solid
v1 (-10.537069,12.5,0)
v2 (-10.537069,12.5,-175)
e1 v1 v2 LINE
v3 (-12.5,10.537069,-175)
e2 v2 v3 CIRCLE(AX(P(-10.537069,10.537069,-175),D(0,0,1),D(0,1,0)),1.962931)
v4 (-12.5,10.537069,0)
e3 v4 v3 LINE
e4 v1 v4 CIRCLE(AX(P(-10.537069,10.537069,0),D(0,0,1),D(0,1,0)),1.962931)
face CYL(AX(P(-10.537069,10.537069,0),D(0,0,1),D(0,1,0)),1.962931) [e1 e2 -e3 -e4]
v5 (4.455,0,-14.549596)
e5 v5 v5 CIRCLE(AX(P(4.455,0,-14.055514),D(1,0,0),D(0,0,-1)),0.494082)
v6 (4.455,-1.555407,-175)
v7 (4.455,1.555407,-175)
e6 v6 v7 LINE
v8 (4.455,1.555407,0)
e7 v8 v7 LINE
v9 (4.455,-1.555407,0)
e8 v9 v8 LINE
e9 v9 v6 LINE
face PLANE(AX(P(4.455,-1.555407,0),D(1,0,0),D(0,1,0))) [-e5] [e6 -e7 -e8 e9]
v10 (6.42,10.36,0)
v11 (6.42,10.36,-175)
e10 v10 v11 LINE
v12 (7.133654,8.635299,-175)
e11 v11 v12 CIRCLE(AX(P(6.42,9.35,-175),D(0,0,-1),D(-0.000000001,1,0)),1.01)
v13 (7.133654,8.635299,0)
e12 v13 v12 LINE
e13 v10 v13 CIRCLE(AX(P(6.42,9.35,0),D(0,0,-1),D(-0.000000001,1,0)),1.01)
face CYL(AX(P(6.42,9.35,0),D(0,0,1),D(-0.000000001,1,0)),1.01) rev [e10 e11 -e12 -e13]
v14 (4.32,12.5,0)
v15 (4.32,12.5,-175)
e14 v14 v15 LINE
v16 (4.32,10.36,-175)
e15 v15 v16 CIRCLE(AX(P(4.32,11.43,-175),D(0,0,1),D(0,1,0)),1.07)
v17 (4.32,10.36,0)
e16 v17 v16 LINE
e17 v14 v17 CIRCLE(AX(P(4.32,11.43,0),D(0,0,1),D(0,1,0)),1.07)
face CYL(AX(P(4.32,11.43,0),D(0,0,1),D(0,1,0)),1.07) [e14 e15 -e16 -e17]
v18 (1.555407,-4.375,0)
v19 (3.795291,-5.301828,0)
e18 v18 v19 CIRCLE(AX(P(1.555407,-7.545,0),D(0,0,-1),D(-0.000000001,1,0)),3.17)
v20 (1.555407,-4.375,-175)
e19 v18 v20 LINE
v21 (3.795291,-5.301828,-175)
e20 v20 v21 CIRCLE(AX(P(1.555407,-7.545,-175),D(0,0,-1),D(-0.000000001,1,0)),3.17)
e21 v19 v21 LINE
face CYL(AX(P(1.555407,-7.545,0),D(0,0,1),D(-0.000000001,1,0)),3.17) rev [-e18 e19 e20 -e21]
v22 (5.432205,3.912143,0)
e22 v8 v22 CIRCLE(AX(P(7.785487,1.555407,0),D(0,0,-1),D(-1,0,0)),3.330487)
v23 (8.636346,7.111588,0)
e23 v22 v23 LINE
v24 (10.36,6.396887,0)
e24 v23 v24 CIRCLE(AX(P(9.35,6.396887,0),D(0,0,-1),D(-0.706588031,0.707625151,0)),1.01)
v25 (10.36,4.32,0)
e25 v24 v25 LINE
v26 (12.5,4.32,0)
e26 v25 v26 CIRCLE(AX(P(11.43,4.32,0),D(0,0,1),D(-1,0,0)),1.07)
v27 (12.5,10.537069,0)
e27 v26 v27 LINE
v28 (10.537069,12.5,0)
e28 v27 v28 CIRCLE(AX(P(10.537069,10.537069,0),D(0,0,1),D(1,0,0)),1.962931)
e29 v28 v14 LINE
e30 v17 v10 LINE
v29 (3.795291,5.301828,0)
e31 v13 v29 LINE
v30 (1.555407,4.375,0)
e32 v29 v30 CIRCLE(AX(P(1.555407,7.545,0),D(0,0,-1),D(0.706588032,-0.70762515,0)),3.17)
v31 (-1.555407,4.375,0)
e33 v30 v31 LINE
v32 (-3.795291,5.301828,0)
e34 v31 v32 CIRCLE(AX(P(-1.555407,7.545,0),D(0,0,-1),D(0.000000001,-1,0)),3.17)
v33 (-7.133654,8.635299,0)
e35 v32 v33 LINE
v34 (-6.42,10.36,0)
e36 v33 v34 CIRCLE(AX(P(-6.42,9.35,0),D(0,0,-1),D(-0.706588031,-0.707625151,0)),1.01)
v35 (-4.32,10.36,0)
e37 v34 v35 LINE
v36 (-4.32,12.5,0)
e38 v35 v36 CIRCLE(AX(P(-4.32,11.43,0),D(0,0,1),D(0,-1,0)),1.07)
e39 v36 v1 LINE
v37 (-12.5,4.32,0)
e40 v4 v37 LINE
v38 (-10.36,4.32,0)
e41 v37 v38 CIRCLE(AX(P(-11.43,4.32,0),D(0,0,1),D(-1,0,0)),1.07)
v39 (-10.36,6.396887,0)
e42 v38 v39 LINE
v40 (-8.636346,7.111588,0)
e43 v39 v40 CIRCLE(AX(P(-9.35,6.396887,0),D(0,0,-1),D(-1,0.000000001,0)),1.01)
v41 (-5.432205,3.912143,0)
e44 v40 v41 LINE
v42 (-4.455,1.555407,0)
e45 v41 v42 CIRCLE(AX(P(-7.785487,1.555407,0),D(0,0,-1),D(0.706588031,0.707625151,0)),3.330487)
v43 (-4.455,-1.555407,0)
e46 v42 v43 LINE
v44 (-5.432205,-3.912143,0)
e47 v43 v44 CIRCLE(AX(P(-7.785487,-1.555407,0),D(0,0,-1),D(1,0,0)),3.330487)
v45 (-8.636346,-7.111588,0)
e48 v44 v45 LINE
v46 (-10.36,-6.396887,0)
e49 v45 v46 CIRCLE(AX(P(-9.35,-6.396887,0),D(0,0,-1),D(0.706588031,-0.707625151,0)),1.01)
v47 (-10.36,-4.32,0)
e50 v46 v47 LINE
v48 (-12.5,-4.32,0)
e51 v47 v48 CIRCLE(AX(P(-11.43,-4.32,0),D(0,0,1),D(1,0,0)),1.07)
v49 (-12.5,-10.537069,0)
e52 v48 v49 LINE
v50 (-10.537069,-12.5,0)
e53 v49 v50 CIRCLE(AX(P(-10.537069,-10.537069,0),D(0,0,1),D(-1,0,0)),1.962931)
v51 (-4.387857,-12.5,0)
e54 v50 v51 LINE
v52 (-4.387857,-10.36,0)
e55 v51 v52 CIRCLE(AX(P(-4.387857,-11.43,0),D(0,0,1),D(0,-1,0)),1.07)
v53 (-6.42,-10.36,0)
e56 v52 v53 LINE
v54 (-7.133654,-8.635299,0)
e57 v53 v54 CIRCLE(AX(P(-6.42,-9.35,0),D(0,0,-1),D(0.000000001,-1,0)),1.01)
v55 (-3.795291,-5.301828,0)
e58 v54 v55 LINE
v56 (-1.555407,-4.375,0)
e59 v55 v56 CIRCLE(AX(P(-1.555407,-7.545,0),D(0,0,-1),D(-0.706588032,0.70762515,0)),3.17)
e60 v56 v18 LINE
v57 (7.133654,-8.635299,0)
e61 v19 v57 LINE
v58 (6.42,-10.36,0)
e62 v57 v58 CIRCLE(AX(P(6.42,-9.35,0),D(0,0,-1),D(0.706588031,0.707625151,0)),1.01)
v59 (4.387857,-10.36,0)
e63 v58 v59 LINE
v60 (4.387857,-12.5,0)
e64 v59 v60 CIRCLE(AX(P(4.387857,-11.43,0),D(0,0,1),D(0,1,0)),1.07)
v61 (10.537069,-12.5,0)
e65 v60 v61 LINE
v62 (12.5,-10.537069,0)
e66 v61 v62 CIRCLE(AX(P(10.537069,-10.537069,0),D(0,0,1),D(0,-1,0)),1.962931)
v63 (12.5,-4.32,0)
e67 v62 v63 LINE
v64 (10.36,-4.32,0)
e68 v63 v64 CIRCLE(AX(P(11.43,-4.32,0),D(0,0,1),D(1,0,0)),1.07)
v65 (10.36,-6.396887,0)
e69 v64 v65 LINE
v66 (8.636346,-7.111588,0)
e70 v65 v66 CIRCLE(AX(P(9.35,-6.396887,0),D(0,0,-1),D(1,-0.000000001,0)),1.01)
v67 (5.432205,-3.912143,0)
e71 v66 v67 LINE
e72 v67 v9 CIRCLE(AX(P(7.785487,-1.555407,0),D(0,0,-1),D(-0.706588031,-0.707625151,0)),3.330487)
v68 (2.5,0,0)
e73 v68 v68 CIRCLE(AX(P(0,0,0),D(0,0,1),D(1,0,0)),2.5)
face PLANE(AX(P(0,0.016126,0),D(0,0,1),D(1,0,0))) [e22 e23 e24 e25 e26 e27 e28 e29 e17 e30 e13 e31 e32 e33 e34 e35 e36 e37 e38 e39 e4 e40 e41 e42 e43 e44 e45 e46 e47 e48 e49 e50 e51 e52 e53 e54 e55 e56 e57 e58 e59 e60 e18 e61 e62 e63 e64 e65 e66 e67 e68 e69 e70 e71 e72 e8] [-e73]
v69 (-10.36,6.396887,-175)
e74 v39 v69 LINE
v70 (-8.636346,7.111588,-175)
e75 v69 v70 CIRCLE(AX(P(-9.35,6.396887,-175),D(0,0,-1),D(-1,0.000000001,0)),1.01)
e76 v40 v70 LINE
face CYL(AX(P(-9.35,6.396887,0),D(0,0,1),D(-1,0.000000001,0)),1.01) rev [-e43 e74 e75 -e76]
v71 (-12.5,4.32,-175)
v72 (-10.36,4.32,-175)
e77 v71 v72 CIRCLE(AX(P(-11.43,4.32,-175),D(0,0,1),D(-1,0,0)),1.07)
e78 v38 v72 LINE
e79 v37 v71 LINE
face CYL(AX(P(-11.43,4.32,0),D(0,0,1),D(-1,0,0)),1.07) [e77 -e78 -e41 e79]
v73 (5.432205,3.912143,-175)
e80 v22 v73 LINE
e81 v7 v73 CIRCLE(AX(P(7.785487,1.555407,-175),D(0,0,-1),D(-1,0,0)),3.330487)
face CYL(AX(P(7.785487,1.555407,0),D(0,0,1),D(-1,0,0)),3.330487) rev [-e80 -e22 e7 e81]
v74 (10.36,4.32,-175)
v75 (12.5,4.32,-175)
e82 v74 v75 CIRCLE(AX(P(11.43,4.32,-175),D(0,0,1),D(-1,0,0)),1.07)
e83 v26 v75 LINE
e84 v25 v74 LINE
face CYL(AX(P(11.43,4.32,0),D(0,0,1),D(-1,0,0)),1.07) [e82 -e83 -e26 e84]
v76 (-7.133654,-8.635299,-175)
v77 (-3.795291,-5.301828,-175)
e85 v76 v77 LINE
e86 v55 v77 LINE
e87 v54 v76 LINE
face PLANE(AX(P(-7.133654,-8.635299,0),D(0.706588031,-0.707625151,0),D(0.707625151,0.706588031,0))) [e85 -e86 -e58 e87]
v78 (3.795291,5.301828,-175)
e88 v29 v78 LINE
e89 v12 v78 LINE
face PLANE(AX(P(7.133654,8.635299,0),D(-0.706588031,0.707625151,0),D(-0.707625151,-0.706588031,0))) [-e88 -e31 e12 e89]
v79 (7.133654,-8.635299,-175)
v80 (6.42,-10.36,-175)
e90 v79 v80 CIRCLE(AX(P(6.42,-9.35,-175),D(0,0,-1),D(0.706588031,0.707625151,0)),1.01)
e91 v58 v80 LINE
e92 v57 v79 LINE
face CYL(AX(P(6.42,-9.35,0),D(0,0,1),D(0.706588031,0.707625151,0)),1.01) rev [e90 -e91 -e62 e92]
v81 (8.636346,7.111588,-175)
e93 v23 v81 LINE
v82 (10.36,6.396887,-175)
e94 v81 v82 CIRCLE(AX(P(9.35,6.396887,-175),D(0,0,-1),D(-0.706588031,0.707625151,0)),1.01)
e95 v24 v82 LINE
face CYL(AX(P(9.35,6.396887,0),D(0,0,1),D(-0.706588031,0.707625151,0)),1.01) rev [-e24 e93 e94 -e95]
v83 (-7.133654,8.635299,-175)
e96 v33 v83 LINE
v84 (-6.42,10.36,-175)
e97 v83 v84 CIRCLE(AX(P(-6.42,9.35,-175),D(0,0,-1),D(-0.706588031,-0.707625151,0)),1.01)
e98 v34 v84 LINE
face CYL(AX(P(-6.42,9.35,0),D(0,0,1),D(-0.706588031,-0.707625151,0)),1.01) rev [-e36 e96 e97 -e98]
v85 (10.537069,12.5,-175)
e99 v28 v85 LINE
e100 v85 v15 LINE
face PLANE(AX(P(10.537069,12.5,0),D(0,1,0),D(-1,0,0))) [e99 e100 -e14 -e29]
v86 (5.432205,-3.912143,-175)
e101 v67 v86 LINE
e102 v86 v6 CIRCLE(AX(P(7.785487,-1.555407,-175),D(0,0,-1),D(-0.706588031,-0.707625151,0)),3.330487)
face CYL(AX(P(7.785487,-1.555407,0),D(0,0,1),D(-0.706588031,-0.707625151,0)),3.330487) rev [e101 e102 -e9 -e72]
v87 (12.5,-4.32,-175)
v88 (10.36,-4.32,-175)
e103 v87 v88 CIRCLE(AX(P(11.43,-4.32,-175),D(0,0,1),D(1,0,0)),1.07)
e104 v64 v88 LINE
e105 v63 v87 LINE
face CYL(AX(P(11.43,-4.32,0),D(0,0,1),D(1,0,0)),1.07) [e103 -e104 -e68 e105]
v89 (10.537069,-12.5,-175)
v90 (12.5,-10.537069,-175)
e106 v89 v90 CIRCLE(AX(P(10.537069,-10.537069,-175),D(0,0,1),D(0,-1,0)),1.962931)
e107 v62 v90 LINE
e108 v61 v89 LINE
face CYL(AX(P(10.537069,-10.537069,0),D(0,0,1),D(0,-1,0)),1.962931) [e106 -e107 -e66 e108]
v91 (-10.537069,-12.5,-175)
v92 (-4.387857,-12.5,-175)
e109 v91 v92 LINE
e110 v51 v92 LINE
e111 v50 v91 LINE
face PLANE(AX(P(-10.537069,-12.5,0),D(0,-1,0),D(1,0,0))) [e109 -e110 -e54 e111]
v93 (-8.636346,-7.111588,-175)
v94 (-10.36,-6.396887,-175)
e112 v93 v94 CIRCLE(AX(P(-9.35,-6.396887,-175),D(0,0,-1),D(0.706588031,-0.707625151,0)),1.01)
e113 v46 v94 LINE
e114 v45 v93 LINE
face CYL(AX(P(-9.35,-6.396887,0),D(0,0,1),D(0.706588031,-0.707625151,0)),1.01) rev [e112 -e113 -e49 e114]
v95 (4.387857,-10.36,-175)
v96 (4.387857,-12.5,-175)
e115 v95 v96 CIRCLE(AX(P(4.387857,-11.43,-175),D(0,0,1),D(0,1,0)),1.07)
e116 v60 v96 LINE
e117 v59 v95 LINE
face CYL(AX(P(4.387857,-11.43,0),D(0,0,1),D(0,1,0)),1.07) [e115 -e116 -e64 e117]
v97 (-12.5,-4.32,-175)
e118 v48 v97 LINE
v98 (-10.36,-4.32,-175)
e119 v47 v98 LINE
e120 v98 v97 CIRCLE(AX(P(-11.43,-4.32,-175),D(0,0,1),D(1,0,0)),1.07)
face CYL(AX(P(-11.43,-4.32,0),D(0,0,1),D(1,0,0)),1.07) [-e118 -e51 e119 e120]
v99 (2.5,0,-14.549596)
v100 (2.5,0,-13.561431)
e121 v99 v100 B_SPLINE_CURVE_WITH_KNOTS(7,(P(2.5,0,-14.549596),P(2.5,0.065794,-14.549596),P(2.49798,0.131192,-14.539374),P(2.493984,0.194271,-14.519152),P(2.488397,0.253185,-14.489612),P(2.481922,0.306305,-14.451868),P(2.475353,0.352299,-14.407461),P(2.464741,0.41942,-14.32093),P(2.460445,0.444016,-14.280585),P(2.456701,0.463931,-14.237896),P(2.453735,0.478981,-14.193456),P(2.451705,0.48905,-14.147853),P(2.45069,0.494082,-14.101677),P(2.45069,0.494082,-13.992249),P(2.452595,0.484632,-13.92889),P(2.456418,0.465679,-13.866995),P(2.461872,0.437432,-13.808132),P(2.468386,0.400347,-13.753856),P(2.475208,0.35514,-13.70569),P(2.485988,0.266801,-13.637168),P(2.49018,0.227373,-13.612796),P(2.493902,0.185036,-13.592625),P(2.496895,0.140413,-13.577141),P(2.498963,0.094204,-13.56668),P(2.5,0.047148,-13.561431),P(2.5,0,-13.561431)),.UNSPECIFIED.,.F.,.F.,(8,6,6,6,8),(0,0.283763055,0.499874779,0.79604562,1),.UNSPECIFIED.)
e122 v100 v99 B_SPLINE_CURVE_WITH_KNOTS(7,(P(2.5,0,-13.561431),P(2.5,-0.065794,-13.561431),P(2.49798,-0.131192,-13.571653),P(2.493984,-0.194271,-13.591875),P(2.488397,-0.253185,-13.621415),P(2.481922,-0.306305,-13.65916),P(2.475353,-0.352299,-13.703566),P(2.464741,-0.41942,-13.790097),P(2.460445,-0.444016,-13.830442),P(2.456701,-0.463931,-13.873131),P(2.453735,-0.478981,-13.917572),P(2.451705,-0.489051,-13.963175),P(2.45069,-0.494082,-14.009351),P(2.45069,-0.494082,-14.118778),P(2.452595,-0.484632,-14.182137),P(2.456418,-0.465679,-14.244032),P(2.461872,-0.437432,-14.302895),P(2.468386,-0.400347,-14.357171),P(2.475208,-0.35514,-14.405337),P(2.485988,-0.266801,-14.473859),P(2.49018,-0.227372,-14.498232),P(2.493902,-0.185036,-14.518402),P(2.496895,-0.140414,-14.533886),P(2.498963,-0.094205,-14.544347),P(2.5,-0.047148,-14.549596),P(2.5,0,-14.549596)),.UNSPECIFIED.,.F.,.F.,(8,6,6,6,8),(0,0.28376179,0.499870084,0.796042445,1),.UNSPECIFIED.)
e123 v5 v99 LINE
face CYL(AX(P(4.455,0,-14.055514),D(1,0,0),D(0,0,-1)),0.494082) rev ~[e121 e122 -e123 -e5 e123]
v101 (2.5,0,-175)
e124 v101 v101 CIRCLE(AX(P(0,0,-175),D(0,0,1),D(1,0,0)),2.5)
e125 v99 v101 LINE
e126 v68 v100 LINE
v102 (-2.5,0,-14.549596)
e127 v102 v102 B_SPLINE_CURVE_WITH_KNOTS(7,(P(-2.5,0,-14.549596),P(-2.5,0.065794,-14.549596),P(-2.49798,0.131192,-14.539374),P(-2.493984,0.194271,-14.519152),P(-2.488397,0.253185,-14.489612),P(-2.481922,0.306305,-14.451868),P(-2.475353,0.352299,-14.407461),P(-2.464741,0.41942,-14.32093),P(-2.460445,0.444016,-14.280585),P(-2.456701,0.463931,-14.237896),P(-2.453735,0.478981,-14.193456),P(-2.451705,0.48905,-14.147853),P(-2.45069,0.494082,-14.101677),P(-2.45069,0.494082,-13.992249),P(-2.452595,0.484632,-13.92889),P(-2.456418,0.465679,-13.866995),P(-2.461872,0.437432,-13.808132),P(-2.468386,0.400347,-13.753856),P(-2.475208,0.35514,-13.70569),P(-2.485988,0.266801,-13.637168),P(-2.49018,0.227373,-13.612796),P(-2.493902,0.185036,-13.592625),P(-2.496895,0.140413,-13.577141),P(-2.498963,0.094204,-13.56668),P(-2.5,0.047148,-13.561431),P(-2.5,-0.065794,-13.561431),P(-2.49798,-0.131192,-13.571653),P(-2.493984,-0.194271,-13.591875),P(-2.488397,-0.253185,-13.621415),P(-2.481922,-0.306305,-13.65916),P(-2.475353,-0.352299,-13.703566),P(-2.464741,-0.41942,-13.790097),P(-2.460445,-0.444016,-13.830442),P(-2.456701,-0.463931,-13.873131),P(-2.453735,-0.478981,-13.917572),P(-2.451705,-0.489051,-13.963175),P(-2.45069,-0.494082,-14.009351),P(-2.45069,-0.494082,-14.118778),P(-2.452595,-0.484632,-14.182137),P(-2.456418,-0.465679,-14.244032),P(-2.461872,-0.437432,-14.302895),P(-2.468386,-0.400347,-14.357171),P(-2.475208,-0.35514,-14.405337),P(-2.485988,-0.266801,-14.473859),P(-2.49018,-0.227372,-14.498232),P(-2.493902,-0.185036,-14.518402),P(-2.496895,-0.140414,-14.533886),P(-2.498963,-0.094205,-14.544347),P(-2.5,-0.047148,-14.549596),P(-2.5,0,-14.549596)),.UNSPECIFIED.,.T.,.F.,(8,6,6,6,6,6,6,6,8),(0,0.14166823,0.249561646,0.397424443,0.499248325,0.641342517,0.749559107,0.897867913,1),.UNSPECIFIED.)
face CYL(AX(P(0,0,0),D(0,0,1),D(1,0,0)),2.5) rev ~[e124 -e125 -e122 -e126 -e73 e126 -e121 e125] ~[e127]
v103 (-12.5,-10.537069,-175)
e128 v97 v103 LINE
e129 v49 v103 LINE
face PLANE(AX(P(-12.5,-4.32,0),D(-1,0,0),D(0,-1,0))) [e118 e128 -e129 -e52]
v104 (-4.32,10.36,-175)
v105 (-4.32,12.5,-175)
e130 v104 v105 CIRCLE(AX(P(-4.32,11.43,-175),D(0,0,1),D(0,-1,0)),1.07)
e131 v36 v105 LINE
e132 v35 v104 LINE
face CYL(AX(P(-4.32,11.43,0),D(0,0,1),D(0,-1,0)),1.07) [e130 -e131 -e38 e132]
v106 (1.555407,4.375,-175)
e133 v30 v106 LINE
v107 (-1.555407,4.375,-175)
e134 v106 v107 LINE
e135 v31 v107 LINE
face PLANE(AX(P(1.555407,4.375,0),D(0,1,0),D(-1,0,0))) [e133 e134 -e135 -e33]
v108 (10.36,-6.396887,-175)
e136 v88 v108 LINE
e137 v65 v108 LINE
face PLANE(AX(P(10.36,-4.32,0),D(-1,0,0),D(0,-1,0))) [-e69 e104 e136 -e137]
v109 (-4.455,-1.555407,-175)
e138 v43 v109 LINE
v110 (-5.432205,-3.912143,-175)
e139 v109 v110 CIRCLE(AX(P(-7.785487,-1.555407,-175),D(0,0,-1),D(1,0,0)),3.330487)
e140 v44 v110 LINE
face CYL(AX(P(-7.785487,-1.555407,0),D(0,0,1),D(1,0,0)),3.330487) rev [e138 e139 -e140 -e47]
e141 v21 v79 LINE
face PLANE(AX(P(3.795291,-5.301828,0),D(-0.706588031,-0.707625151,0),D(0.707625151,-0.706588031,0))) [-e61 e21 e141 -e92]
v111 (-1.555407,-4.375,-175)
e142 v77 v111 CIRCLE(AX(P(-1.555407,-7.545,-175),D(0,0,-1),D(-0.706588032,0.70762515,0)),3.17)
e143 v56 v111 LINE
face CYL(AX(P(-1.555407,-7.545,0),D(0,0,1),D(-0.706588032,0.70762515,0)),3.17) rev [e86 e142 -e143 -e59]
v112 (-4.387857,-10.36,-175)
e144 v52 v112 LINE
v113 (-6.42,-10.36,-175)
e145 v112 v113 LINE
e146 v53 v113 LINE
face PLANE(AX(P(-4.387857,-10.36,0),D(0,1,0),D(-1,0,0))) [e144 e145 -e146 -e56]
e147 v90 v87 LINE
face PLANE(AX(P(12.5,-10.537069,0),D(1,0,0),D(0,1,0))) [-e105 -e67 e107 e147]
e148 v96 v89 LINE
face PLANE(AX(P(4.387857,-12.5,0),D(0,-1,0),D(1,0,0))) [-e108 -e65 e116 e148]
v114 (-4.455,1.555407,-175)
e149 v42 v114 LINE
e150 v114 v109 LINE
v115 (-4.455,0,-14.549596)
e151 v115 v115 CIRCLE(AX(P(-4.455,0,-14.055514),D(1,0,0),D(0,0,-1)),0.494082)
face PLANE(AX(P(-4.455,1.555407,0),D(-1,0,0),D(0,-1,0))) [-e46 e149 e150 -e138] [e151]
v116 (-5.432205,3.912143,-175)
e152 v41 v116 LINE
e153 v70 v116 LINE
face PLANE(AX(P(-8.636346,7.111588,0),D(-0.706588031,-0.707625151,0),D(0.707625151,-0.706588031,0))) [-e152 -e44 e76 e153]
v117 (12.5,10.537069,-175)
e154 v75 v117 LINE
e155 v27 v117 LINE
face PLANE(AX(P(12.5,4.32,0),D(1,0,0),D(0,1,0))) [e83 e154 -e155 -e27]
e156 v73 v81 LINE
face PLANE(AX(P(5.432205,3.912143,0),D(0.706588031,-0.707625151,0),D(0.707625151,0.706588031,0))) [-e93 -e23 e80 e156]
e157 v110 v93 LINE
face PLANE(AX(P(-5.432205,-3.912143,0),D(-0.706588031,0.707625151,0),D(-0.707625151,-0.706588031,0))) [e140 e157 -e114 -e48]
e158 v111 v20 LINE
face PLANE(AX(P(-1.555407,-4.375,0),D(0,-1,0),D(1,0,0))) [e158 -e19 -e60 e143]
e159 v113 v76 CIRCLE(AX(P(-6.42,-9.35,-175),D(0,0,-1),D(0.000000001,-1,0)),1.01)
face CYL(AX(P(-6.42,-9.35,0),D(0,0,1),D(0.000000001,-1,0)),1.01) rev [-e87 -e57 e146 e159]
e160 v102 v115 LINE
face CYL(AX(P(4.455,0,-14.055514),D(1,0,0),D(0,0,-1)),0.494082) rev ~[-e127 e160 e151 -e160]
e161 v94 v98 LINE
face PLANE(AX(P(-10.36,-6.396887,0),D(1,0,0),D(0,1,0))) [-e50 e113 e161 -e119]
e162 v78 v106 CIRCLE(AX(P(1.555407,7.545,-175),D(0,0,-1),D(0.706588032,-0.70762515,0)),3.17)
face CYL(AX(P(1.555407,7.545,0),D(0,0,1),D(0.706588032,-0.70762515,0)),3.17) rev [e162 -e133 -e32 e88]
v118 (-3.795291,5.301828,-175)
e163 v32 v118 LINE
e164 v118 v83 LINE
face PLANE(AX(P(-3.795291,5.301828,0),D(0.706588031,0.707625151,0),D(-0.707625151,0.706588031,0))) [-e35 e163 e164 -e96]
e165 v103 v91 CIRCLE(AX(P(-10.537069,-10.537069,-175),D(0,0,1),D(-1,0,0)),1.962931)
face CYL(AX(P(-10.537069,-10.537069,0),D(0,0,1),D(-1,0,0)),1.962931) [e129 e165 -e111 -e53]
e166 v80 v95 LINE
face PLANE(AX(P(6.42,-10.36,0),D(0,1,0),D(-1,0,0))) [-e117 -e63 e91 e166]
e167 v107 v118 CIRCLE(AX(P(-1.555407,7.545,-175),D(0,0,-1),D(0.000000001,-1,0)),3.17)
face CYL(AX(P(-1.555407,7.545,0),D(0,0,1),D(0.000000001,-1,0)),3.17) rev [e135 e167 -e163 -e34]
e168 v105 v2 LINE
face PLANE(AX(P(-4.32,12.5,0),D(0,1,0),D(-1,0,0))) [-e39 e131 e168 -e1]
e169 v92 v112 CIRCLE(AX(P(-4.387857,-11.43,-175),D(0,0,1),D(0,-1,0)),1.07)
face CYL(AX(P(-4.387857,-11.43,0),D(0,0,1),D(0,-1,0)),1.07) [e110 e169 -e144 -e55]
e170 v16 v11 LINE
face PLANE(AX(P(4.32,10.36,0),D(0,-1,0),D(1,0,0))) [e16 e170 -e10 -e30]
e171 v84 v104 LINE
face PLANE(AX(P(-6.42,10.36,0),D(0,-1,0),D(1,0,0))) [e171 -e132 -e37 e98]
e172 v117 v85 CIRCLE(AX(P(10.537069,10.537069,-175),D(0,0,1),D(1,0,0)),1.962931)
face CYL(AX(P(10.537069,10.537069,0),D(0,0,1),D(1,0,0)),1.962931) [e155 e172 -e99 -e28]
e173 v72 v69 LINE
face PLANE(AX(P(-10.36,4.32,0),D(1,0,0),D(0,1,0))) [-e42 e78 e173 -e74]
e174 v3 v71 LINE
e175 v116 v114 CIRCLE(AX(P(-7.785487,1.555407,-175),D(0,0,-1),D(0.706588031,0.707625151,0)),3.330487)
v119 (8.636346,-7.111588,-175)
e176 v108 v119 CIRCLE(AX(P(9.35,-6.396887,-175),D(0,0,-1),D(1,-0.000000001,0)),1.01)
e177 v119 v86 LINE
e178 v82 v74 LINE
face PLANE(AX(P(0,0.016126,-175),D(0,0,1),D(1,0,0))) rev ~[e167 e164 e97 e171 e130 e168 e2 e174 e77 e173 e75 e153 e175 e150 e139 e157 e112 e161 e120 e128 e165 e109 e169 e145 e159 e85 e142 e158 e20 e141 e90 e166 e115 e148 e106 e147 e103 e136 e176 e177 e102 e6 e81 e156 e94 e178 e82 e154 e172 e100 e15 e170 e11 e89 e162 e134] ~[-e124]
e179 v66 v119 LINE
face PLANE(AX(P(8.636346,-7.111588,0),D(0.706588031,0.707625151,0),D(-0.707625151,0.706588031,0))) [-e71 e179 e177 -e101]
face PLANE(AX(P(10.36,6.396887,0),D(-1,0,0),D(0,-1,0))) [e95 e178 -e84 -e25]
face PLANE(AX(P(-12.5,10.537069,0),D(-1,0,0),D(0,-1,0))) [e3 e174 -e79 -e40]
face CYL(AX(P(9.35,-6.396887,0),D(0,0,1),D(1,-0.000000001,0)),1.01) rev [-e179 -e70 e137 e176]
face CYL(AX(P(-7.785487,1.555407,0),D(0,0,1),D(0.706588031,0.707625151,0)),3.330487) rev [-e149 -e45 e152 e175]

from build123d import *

# Parameters (mm, degrees)
SKETCH1_R          = 2.5
EXTRUDE1_DEPTH     = 175
SKETCH2_R          = 0.494082288
CUT_EXTRUDE1_DEPTH = 177.263218015


with BuildPart() as part:
    # Sketch1 → Extrude1 (new body)
    with BuildSketch(Plane.XY):
        with BuildLine():
            Line((-8.636346088, 7.111588351), (-5.432204773, 3.912143135))
            ThreePointArc((-5.432204773, 3.912143135), (-4.708985779, 2.831057106), (-4.455, 1.555406707))
            Line((-4.455, 1.555406707), (-4.455, -1.555406707))
            ThreePointArc((-4.455, -1.555406707), (-4.708985779, -2.831057106), (-5.432204773, -3.912143135))
            Line((-5.432204773, -3.912143135), (-8.636346088, -7.111588351))
            ThreePointArc((-8.636346088, -7.111588351), (-9.736852394, -7.329863489), (-10.36, -6.396886949))
            Line((-10.36, -6.396886949), (-10.36, -4.32))
            ThreePointArc((-10.36, -4.32), (-11.43, -3.25), (-12.5, -4.32))
            Line((-12.5, -4.32), (-12.5, -8.651801989))
            Line((-12.5, -8.651801989), (-12.5, -10.537068835))
            ThreePointArc((-12.5, -10.537068835), (-11.925070773, -11.925070773), (-10.537068835, -12.5))
            Line((-10.537068835, -12.5), (-8.441567612, -12.5))
            Line((-8.441567612, -12.5), (-4.387856959, -12.5))
            ThreePointArc((-4.387856959, -12.5), (-3.317856959, -11.43), (-4.387856959, -10.36))
            Line((-4.387856959, -10.36), (-6.42, -10.36))
            ThreePointArc((-6.42, -10.36), (-7.35325999, -9.736168088), (-7.133653912, -8.635298598))
            Line((-7.133653912, -8.635298598), (-3.795290766, -5.301828272))
            ThreePointArc((-3.795290766, -5.301828272), (-2.76743922, -4.61585726), (-1.555406707, -4.375))
            Line((-1.555406707, -4.375), (1.555406707, -4.375))
            ThreePointArc((1.555406707, -4.375), (2.76743922, -4.61585726), (3.795290766, -5.301828272))
            Line((3.795290766, -5.301828272), (7.133653912, -8.635298598))
            ThreePointArc((7.133653912, -8.635298598), (7.35325999, -9.736168088), (6.42, -10.36))
            Line((6.42, -10.36), (4.387856959, -10.36))
            ThreePointArc((4.387856959, -10.36), (3.317856959, -11.43), (4.387856959, -12.5))
            Line((4.387856959, -12.5), (8.441567612, -12.5))
            Line((8.441567612, -12.5), (10.537068835, -12.5))
            ThreePointArc((10.537068835, -12.5), (11.925070773, -11.925070773), (12.5, -10.537068835))
            Line((12.5, -10.537068835), (12.5, -8.651801989))
            Line((12.5, -8.651801989), (12.5, -4.32))
            ThreePointArc((12.5, -4.32), (11.43, -3.25), (10.36, -4.32))
            Line((10.36, -4.32), (10.36, -6.396886949))
            ThreePointArc((10.36, -6.396886949), (9.736852394, -7.329863489), (8.636346088, -7.111588351))
            Line((8.636346088, -7.111588351), (5.432204773, -3.912143135))
            ThreePointArc((5.432204773, -3.912143135), (4.708985779, -2.831057106), (4.455, -1.555406707))
            Line((4.455, -1.555406707), (4.455, 1.555406707))
            ThreePointArc((4.455, 1.555406707), (4.708985779, 2.831057106), (5.432204773, 3.912143135))
            Line((5.432204773, 3.912143135), (8.636346088, 7.111588351))
            ThreePointArc((8.636346088, 7.111588351), (9.736852394, 7.329863489), (10.36, 6.396886949))
            Line((10.36, 6.396886949), (10.36, 4.32))
            ThreePointArc((10.36, 4.32), (11.43, 3.25), (12.5, 4.32))
            Line((12.5, 4.32), (12.5, 7.99129648))
            Line((12.5, 7.99129648), (12.5, 10.537068835))
            ThreePointArc((12.5, 10.537068835), (11.925070773, 11.925070773), (10.537068835, 12.5))
            Line((10.537068835, 12.5), (4.32, 12.5))
            ThreePointArc((4.32, 12.5), (3.25, 11.43), (4.32, 10.36))
            Line((4.32, 10.36), (6.42, 10.36))
            ThreePointArc((6.42, 10.36), (7.35325999, 9.736168088), (7.133653912, 8.635298598))
            Line((7.133653912, 8.635298598), (3.795290766, 5.301828272))
            ThreePointArc((3.795290766, 5.301828272), (2.76743922, 4.61585726), (1.555406707, 4.375))
            Line((1.555406707, 4.375), (-1.555406707, 4.375))
            ThreePointArc((-1.555406707, 4.375), (-2.76743922, 4.61585726), (-3.795290766, 5.301828272))
            Line((-3.795290766, 5.301828272), (-7.133653912, 8.635298598))
            ThreePointArc((-7.133653912, 8.635298598), (-7.35325999, 9.736168088), (-6.42, 10.36))
            Line((-6.42, 10.36), (-4.32, 10.36))
            ThreePointArc((-4.32, 10.36), (-3.25, 11.43), (-4.32, 12.5))
            Line((-4.32, 12.5), (-10.537068835, 12.5))
            ThreePointArc((-10.537068835, 12.5), (-11.925070773, 11.925070773), (-12.5, 10.537068835))
            Line((-12.5, 10.537068835), (-12.5, 7.99129648))
            Line((-12.5, 7.99129648), (-12.5, 4.32))
            ThreePointArc((-12.5, 4.32), (-11.43, 3.25), (-10.36, 4.32))
            Line((-10.36, 4.32), (-10.36, 6.396886949))
            ThreePointArc((-10.36, 6.396886949), (-9.736852394, 7.329863489), (-8.636346088, 7.111588351))
        make_face()
        Circle(SKETCH1_R, mode=Mode.SUBTRACT)
    extrude(amount=-EXTRUDE1_DEPTH)

    # Sketch2 → Cut-Extrude1 (cut, through all)
    with BuildSketch(Plane(origin=(4.455, 0, 0), x_dir=(0, 0, -1), z_dir=(1, 0, 0))):
        with Locations((14.055513528, 0)):
            Circle(SKETCH2_R)
    extrude(amount=-CUT_EXTRUDE1_DEPTH, mode=Mode.SUBTRACT)


solid = part.part
